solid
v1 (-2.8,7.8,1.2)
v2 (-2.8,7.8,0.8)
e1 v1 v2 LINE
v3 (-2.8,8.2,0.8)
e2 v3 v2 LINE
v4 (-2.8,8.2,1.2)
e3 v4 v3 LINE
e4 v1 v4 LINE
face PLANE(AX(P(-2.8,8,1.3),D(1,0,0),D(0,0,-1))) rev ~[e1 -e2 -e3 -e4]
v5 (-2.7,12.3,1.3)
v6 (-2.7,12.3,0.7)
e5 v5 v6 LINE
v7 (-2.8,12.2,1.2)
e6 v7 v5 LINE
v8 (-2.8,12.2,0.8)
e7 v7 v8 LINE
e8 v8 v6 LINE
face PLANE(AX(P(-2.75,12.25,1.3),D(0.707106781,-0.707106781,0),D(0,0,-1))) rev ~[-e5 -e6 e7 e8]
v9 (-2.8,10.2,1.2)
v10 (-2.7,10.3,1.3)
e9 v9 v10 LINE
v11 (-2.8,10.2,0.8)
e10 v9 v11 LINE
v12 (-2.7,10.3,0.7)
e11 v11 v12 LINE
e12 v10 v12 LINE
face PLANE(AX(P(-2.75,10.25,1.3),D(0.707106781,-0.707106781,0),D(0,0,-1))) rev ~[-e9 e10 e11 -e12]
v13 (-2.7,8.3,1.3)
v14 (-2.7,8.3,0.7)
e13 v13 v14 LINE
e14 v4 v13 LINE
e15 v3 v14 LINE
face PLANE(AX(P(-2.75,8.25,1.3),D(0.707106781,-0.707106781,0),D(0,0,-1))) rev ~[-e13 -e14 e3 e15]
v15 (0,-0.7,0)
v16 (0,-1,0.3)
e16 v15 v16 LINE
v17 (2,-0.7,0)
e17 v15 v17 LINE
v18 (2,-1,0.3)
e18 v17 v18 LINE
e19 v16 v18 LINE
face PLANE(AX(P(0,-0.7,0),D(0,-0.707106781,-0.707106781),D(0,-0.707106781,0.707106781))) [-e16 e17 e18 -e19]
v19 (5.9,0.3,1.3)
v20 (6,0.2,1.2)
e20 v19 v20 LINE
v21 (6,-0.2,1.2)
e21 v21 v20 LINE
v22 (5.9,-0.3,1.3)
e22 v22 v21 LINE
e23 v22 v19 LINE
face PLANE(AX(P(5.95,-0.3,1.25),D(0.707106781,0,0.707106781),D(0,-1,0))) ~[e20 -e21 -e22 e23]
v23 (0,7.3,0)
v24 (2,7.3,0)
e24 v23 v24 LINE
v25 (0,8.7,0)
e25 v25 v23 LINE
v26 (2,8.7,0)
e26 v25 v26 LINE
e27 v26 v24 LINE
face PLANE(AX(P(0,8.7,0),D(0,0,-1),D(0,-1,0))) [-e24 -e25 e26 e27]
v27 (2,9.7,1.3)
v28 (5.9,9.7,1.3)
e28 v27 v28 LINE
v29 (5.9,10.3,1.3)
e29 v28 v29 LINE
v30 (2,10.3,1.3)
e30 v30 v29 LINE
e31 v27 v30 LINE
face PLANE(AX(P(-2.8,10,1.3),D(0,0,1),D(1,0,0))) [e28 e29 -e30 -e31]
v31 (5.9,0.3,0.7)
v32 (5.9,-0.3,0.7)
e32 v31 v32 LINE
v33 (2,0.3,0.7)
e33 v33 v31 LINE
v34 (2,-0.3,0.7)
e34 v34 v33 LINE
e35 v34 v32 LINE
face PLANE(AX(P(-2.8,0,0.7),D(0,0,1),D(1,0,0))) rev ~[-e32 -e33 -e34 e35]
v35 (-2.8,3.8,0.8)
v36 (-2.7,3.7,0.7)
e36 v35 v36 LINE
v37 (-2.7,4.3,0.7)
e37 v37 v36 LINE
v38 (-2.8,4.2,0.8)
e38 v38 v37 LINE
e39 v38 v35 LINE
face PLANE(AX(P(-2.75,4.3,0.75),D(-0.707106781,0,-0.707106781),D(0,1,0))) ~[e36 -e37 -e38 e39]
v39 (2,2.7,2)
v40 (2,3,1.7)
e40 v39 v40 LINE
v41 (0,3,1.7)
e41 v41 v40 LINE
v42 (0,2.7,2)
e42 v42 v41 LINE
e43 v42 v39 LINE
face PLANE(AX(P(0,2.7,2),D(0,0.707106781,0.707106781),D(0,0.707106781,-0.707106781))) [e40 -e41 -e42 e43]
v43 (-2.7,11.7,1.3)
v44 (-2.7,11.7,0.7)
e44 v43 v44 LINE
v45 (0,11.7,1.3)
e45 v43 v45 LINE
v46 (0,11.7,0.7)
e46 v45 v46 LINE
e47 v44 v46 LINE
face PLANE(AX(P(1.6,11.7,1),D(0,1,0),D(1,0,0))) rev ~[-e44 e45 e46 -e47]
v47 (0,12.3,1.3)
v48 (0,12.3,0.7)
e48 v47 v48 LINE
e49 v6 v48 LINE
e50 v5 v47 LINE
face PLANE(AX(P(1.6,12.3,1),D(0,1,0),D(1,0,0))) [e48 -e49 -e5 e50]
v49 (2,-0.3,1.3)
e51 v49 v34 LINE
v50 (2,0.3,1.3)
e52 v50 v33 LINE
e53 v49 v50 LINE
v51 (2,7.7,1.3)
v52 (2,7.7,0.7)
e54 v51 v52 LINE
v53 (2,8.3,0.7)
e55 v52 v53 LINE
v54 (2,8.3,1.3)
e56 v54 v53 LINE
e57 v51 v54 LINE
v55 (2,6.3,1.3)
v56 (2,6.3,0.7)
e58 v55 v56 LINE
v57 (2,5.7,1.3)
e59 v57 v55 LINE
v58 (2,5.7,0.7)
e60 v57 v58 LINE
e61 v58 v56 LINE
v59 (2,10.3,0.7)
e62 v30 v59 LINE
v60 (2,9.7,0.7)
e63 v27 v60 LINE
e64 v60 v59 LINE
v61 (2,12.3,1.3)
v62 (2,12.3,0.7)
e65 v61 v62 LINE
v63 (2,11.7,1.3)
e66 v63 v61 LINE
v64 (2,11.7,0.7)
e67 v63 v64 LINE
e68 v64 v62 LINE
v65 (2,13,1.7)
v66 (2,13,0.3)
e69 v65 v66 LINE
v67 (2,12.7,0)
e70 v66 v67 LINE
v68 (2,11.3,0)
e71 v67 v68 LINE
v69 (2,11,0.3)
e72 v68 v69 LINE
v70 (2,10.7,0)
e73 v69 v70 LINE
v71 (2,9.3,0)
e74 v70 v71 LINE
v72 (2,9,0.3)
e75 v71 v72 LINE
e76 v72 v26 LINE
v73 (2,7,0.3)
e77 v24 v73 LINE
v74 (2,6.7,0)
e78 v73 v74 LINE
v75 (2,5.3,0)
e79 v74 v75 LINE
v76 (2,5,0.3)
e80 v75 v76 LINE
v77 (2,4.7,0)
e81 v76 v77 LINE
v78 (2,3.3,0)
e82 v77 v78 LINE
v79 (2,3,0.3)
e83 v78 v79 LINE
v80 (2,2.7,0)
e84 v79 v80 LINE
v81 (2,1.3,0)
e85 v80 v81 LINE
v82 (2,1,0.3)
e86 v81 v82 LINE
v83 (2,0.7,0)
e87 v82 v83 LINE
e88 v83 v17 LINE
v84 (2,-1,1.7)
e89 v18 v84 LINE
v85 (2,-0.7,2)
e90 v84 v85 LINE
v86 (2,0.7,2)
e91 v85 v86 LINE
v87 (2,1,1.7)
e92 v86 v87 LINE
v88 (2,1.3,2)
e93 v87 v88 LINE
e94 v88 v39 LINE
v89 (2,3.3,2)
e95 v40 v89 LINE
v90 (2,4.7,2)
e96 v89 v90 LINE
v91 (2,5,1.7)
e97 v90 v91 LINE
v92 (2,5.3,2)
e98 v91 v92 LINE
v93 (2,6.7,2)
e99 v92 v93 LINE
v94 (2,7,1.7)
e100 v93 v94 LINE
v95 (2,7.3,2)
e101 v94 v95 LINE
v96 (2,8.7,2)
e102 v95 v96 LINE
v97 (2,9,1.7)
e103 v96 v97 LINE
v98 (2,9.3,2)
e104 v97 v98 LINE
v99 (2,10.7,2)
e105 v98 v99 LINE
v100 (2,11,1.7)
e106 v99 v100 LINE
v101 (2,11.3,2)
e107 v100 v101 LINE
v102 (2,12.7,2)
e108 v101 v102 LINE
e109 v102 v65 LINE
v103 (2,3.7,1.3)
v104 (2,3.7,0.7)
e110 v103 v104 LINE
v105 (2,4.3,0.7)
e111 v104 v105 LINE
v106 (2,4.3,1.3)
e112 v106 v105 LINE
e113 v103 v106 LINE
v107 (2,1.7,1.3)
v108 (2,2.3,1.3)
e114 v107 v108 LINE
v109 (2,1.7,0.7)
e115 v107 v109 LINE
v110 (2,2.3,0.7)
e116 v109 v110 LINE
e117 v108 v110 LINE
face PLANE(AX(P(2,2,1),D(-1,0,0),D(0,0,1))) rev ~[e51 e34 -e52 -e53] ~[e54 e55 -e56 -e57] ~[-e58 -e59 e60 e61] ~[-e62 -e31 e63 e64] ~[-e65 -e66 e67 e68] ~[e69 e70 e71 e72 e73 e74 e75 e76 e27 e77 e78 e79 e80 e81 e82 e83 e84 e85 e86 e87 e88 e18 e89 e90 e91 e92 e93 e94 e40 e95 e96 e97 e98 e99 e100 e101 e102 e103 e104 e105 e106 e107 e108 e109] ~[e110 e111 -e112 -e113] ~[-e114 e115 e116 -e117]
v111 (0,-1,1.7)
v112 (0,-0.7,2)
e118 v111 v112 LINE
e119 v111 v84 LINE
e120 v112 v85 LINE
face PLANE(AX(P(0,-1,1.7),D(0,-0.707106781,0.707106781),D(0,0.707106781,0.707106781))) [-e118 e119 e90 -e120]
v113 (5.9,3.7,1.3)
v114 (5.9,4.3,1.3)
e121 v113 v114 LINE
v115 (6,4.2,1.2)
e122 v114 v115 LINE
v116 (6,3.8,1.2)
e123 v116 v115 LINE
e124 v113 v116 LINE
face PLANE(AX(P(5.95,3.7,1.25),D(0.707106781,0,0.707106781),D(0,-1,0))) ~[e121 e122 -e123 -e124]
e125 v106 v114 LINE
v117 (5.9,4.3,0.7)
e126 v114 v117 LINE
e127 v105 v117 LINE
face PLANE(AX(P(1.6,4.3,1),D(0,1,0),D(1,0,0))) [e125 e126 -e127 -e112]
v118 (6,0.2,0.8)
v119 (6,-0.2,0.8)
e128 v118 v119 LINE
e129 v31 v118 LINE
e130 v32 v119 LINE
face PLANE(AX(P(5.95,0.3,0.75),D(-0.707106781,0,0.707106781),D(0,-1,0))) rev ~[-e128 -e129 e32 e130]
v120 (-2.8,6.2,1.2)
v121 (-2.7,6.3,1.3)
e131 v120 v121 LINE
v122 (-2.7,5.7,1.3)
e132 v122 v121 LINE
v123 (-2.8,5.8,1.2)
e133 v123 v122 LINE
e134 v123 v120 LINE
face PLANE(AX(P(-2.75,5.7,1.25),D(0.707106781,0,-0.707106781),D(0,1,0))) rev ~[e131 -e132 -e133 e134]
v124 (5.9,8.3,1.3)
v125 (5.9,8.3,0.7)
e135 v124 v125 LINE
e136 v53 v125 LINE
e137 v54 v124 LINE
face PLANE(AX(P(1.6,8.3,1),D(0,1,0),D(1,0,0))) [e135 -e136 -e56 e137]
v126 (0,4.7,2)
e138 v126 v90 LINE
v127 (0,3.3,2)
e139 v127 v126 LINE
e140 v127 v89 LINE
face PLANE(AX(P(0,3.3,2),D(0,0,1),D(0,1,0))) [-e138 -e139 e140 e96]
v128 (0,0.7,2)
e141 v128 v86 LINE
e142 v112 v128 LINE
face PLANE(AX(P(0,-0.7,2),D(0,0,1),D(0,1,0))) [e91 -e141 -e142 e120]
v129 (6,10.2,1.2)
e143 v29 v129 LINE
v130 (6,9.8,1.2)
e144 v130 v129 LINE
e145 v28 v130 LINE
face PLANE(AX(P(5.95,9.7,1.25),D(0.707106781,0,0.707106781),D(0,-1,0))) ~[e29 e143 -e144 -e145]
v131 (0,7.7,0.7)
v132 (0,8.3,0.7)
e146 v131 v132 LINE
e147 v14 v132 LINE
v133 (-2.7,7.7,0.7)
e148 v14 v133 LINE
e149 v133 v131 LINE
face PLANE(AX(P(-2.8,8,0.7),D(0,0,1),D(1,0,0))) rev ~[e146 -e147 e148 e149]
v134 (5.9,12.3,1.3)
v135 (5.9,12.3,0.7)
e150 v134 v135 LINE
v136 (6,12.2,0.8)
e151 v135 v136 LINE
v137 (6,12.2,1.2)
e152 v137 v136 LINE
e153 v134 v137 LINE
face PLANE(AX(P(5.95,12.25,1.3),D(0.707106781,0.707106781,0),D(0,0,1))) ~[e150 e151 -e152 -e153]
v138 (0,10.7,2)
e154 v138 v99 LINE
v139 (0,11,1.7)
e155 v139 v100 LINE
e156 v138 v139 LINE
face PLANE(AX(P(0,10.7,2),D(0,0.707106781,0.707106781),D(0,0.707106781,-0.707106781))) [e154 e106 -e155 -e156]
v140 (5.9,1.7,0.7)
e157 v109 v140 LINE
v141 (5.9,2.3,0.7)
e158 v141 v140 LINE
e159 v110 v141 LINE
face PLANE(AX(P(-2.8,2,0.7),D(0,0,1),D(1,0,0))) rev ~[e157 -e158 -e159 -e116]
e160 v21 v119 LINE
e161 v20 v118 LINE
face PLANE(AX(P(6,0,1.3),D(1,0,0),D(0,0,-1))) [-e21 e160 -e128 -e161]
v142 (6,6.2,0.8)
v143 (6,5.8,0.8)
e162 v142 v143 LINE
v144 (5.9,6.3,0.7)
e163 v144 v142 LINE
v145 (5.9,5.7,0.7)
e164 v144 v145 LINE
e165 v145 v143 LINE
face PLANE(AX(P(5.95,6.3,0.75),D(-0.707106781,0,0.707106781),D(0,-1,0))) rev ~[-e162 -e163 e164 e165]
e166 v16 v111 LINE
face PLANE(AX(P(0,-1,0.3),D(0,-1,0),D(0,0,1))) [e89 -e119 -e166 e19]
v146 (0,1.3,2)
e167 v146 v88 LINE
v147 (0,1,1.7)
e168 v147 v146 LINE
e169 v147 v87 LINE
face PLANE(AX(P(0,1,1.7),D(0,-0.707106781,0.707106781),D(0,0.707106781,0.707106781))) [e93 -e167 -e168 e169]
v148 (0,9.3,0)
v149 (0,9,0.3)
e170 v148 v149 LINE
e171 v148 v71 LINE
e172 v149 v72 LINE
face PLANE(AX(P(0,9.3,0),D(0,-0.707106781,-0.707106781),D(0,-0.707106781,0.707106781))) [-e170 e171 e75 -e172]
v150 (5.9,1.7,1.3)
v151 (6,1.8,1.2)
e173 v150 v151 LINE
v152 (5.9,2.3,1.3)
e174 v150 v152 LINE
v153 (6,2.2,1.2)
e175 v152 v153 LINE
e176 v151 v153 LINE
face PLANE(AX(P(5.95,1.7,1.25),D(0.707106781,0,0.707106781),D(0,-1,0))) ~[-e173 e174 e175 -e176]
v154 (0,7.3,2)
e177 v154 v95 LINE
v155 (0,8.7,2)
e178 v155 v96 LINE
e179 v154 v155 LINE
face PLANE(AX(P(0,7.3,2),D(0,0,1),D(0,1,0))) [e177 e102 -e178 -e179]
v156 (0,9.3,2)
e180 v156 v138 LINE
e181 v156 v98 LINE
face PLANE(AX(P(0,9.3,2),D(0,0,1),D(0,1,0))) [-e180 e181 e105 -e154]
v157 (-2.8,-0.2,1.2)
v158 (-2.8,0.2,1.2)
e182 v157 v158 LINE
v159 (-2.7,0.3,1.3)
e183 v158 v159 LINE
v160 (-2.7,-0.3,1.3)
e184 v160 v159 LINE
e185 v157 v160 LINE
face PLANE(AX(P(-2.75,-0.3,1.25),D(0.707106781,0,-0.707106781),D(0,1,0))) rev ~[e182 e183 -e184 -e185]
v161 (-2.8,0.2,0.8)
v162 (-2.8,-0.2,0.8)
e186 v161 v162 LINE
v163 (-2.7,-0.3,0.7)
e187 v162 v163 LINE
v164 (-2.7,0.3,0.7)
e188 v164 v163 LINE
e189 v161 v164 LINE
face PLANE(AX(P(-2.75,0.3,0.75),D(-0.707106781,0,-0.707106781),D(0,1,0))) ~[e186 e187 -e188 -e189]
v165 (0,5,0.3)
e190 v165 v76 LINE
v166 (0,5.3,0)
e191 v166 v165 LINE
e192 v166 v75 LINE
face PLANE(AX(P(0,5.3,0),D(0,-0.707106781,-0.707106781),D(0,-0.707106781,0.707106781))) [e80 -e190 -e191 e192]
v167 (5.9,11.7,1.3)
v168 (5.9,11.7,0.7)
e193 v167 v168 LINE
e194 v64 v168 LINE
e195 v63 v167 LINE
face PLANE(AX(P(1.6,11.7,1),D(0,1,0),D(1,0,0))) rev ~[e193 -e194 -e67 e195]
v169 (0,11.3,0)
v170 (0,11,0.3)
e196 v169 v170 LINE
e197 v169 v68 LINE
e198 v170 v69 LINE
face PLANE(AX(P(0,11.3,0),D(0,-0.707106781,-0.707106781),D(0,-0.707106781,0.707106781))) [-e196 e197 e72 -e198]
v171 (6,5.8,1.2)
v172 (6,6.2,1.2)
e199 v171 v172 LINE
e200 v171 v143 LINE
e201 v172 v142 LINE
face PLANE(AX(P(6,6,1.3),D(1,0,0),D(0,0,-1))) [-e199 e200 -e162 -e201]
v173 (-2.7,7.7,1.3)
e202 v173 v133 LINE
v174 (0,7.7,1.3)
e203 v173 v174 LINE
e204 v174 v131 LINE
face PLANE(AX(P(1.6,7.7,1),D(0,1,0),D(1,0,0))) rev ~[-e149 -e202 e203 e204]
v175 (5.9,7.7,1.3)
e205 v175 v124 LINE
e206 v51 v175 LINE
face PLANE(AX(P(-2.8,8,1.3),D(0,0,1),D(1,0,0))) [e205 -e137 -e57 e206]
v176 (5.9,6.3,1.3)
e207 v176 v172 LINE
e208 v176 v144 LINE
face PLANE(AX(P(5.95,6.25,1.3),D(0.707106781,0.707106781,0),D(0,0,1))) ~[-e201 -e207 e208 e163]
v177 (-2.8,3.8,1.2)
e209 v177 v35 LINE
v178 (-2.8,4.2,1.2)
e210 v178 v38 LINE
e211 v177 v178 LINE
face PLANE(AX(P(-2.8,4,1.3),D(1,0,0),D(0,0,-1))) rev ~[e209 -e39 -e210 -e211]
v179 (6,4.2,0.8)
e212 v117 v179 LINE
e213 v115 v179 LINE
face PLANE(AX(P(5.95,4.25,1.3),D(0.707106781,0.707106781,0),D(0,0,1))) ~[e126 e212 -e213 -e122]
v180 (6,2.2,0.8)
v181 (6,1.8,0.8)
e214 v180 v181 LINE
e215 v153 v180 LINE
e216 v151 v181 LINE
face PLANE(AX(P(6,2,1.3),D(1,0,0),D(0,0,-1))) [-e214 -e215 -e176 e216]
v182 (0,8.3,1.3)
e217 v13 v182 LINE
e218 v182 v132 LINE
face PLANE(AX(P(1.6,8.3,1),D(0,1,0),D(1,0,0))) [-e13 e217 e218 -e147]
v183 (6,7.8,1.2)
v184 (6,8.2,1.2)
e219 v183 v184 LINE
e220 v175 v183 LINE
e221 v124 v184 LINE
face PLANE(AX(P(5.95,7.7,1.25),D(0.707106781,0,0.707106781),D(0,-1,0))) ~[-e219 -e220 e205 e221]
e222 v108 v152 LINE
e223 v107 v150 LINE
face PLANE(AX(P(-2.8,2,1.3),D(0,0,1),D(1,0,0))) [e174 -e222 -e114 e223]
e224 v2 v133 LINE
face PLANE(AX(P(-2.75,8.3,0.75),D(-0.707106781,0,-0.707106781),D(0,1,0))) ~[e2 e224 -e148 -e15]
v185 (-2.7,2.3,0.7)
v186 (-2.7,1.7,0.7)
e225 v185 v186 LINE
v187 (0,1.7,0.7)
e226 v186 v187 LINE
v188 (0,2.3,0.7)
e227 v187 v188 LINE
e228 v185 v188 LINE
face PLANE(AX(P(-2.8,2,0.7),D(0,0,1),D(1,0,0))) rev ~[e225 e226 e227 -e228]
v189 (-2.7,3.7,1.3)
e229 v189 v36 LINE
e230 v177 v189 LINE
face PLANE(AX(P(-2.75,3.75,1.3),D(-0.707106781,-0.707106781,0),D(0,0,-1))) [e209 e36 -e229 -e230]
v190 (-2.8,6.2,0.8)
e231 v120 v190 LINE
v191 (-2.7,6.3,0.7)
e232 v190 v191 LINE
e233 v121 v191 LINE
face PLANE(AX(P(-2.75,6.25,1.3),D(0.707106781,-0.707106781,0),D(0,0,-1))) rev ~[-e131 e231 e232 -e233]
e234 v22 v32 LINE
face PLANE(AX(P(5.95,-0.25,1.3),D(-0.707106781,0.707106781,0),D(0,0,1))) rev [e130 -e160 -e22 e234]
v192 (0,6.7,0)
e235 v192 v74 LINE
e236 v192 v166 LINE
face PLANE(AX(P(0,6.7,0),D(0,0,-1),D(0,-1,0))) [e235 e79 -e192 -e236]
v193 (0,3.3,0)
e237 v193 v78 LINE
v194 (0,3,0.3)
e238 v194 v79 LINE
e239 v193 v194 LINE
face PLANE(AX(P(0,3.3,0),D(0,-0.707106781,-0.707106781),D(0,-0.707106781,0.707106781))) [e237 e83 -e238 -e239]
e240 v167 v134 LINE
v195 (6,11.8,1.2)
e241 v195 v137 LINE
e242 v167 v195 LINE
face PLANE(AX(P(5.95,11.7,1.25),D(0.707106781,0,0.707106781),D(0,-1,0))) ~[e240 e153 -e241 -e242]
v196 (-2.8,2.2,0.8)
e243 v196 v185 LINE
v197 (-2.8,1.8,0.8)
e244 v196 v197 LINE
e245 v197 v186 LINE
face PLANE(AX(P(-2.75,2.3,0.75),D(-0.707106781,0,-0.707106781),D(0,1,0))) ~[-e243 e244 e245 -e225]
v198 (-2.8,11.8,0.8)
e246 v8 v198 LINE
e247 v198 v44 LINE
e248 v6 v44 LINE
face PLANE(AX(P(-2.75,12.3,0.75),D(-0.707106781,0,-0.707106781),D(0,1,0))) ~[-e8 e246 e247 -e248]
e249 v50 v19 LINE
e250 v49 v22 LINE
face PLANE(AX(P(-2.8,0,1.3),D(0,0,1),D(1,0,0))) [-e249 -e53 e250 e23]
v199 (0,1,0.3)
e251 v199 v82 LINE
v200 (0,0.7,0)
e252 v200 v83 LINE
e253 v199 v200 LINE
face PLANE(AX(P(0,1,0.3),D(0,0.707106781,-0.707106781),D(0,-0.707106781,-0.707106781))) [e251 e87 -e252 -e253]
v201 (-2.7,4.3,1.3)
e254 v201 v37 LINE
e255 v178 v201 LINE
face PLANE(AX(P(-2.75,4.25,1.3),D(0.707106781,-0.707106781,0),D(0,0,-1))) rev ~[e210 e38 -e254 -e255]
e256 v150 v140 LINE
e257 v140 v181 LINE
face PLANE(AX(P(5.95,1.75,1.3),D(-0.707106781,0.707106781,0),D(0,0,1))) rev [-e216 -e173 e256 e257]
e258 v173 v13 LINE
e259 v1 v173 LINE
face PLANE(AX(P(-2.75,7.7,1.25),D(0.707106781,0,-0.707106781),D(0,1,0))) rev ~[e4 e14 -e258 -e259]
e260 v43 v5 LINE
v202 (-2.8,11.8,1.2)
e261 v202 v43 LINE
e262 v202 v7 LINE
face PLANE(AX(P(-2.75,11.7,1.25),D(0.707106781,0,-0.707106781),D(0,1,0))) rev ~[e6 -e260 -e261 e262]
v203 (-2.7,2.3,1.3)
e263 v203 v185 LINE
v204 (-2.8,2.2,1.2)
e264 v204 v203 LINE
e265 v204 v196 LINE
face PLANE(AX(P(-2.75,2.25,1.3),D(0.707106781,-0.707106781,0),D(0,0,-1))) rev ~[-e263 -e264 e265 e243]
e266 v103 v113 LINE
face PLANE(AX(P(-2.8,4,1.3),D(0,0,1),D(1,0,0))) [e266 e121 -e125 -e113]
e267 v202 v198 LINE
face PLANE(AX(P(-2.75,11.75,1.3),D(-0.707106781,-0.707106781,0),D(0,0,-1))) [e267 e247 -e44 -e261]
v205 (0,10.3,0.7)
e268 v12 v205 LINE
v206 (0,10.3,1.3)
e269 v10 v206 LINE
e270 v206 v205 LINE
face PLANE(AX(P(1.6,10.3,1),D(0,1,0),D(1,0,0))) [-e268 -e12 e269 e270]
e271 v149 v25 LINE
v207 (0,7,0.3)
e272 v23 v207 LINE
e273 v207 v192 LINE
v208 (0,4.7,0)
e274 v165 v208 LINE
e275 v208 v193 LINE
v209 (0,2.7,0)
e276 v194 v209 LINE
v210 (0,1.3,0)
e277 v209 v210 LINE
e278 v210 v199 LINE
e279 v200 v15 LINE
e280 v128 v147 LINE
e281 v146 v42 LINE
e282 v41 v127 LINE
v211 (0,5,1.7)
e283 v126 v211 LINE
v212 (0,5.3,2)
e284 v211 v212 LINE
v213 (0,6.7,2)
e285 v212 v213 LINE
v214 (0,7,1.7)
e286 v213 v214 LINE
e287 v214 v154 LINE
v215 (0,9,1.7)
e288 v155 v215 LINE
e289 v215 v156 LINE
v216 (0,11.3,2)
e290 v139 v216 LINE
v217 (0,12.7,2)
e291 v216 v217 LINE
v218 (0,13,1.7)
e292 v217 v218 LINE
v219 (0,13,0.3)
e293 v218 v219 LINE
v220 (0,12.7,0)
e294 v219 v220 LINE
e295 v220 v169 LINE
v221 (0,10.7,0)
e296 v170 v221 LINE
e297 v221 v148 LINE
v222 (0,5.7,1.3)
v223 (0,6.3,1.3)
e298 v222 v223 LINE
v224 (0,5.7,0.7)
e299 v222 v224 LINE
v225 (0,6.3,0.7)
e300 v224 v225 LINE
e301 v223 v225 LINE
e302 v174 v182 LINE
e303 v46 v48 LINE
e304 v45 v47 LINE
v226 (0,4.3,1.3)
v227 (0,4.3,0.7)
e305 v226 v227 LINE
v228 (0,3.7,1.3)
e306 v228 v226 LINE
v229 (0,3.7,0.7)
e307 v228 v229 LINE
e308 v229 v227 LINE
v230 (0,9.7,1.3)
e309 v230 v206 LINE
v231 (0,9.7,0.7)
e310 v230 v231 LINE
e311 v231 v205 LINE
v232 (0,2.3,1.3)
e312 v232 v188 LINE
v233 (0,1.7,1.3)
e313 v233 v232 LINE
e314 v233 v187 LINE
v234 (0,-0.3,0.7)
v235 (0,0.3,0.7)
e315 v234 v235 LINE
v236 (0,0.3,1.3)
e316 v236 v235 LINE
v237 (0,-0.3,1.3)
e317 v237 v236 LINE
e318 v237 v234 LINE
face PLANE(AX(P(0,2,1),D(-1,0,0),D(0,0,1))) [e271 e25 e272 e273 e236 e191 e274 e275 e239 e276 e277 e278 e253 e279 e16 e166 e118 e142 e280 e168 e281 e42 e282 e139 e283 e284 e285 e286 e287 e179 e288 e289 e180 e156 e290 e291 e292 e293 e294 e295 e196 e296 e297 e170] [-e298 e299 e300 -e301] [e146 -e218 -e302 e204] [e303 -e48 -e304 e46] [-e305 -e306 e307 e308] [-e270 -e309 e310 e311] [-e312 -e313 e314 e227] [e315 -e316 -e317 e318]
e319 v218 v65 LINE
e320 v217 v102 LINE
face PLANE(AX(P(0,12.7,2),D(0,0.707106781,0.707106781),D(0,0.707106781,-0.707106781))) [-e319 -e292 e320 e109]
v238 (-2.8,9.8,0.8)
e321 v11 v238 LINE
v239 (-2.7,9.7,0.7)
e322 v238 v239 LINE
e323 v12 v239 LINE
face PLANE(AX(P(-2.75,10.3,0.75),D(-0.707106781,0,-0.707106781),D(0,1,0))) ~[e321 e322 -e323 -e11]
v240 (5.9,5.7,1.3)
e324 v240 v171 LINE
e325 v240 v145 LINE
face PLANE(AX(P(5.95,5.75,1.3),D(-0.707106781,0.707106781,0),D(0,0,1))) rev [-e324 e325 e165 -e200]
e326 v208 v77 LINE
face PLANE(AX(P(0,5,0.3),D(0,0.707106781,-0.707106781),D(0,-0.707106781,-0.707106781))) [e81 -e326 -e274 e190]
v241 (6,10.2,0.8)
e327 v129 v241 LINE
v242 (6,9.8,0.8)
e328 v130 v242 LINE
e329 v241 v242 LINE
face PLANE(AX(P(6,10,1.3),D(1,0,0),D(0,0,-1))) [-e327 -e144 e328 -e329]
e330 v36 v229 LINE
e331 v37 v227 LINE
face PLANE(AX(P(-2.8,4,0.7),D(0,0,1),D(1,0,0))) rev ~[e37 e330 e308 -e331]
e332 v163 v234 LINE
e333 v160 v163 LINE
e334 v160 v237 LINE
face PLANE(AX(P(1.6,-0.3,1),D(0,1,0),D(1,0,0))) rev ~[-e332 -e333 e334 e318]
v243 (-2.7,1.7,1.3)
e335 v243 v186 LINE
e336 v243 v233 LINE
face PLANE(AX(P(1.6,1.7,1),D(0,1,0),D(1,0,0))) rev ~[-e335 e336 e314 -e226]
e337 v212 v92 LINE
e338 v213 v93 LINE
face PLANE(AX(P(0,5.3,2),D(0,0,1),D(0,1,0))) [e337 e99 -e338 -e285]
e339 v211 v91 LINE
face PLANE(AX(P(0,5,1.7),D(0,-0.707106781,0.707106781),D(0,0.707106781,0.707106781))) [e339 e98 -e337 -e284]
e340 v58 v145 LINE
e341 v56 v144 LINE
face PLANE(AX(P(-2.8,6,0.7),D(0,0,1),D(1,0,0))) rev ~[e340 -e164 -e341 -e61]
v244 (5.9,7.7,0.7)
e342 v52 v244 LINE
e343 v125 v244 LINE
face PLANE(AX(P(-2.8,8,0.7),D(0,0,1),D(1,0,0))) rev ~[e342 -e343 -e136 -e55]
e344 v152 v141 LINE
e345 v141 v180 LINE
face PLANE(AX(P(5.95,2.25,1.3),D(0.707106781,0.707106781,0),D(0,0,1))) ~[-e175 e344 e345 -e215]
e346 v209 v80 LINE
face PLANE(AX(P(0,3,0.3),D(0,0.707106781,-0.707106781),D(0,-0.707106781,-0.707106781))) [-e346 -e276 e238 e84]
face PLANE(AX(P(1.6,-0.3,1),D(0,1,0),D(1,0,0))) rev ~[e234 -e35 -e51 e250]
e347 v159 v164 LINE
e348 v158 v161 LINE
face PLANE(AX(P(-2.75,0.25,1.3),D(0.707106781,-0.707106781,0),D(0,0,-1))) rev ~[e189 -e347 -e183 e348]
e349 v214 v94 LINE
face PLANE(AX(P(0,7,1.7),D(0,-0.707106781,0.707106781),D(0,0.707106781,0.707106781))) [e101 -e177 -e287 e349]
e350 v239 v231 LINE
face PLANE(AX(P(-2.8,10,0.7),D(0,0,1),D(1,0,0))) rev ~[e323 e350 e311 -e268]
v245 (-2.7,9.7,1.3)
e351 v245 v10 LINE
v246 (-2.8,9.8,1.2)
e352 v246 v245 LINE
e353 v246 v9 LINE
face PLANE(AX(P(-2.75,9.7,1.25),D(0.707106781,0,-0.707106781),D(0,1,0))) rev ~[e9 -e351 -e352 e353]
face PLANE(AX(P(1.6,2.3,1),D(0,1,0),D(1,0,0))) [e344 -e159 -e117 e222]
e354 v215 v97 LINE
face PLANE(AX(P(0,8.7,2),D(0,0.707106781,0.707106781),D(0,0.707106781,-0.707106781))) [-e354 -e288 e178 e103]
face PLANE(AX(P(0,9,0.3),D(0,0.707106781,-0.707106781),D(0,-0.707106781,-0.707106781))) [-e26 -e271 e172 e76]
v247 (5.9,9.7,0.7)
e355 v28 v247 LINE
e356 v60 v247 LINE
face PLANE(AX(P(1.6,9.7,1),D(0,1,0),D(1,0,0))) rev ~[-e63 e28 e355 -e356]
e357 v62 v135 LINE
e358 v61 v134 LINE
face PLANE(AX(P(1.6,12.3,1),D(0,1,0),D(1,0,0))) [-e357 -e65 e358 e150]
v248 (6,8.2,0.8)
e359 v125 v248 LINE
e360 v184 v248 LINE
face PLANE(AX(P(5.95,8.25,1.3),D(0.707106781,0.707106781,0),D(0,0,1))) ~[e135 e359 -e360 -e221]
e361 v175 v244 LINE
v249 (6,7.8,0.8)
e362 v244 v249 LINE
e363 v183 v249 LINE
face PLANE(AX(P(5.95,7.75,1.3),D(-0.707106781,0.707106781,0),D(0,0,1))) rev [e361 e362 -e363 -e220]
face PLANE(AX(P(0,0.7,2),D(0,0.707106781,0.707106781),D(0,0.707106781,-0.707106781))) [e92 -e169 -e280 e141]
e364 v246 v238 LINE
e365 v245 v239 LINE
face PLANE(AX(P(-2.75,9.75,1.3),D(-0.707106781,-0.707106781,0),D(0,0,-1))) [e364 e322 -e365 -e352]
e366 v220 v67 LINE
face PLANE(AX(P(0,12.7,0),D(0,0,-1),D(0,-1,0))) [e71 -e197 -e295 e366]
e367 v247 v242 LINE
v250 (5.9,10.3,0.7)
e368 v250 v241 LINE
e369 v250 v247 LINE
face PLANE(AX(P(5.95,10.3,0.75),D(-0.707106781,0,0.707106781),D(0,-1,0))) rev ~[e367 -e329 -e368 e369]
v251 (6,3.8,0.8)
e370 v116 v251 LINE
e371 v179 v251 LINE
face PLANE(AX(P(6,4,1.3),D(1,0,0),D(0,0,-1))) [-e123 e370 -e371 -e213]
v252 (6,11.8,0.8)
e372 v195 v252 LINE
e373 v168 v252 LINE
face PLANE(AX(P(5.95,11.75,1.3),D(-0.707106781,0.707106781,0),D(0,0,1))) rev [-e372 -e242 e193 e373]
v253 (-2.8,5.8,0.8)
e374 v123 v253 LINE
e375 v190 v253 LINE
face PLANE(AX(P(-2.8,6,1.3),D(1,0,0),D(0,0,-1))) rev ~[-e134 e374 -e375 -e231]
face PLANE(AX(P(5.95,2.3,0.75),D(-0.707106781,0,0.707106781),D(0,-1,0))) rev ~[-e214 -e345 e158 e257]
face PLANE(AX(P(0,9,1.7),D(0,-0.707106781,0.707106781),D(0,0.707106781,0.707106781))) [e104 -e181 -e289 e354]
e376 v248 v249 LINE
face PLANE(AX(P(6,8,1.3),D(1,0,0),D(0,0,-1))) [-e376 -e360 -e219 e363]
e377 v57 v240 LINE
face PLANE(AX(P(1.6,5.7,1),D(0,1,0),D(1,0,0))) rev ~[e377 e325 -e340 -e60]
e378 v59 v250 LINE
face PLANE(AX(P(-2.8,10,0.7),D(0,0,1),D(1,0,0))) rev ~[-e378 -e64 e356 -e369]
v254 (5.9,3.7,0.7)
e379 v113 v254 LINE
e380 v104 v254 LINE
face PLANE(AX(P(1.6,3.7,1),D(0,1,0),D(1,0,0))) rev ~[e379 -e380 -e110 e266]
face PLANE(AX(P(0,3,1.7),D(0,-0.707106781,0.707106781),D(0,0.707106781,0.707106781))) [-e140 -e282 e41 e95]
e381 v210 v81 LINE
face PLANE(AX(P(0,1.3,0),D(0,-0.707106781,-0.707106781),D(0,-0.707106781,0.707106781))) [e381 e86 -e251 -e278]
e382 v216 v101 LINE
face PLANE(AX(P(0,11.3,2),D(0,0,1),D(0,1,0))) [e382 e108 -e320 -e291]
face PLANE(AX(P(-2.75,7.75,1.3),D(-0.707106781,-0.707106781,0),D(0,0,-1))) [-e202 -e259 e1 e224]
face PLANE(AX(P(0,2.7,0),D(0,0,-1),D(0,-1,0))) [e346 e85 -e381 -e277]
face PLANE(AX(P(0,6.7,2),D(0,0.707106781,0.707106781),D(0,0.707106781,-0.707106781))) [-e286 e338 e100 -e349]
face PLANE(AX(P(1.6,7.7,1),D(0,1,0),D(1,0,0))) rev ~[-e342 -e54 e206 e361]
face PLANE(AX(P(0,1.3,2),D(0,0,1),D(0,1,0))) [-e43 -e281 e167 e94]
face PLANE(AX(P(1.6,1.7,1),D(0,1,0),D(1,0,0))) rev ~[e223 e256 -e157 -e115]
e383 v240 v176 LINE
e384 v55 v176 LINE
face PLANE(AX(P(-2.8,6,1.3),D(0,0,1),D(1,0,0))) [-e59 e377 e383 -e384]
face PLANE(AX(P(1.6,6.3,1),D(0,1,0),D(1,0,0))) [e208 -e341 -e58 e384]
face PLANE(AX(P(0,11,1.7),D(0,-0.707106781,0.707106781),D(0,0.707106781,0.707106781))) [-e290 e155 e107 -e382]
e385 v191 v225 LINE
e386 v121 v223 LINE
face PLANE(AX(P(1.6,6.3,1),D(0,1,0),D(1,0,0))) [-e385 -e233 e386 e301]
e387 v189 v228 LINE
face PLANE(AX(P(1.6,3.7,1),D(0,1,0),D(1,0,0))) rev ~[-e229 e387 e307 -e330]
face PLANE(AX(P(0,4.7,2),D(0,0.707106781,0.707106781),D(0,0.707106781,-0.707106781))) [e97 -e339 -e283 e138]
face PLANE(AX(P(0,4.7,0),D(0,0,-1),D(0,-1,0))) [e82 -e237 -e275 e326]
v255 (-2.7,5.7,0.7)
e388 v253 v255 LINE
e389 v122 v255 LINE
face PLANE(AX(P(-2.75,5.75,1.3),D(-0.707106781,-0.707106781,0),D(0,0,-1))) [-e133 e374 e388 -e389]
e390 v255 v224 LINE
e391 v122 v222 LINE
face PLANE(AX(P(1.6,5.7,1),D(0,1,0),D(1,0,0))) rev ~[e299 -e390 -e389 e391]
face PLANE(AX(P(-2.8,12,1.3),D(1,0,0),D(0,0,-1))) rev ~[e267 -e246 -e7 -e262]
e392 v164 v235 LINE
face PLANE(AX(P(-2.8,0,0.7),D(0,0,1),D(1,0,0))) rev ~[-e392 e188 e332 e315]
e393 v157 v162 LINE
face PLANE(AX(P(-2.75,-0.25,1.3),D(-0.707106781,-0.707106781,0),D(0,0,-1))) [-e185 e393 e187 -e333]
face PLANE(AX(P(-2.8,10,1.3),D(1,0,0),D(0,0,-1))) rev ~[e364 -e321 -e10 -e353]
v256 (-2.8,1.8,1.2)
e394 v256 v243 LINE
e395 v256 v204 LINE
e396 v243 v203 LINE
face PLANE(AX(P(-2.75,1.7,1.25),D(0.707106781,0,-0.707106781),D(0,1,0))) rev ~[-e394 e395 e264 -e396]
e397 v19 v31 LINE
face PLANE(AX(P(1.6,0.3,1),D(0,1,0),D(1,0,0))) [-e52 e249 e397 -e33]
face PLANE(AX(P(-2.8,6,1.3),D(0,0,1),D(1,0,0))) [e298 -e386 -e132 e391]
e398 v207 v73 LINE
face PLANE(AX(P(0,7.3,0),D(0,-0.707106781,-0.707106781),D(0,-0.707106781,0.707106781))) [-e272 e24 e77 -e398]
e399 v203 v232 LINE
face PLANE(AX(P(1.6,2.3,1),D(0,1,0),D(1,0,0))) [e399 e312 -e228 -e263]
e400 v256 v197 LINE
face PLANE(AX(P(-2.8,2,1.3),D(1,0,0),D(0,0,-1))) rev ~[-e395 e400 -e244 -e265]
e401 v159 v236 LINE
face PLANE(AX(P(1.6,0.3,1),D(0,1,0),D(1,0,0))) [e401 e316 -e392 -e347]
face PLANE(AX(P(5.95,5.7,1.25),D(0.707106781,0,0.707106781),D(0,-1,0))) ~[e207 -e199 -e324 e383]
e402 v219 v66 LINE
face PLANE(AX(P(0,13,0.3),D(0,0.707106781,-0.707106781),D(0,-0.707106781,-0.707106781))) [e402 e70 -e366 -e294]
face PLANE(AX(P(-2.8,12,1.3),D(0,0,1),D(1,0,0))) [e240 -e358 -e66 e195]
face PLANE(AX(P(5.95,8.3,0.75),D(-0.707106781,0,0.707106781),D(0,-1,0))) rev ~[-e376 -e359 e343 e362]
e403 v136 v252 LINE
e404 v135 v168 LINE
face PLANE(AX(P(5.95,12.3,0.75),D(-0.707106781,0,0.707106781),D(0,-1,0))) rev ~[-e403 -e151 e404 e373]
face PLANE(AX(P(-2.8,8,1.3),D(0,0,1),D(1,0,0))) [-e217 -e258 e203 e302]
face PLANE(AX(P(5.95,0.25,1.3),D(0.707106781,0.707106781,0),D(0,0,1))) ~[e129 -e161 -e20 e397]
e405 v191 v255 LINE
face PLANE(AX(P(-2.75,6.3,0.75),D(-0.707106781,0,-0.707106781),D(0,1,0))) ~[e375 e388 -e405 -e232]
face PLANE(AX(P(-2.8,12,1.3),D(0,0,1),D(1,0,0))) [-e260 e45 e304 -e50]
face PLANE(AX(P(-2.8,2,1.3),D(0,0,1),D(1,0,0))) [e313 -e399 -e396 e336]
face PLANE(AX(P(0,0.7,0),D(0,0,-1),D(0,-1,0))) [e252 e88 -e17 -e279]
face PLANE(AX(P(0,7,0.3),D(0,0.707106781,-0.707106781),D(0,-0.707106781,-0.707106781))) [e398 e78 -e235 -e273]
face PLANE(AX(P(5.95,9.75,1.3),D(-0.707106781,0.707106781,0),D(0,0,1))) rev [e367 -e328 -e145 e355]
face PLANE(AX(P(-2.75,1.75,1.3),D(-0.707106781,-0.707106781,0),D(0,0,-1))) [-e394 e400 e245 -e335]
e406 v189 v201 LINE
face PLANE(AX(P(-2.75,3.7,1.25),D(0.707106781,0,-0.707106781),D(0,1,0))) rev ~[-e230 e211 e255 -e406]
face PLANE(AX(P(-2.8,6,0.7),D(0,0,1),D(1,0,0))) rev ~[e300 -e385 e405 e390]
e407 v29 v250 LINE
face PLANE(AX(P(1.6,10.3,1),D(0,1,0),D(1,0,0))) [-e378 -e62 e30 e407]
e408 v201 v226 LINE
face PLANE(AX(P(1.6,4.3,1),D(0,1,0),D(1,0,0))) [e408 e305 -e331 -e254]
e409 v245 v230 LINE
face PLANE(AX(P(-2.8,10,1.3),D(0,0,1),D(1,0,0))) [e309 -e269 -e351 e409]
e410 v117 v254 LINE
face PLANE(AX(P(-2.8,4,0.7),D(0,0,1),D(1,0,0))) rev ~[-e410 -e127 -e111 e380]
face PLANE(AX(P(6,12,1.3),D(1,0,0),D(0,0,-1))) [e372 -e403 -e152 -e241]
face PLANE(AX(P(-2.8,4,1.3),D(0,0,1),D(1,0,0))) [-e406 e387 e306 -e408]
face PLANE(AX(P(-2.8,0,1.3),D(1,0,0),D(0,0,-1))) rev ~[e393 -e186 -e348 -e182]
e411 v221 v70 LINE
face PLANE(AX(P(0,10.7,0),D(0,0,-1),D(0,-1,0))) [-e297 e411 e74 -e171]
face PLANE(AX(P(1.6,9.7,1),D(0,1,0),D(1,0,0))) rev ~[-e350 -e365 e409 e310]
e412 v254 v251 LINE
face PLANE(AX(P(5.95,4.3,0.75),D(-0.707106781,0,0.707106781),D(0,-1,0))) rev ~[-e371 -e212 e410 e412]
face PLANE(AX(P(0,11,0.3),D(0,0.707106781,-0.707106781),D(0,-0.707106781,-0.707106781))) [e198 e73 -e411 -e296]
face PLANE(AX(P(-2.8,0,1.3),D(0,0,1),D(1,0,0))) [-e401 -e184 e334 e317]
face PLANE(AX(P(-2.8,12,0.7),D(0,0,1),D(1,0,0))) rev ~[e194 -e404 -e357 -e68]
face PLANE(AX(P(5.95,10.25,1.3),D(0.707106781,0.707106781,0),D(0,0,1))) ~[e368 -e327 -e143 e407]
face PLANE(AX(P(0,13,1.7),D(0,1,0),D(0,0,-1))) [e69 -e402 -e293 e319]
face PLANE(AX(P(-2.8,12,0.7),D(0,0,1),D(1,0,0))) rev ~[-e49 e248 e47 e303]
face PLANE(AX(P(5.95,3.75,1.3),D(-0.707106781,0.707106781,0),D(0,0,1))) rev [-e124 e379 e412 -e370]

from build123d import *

# Parameters (mm, degrees)
PLASTIC_DEPTH   = 2
SKETCH2_W       = 8.8
SKETCH2_H       = 0.6
CONTACT_DEPTH   = 0.3
CHAMFER1_SIZE   = 0.1
LPATTERN1_COUNT = 7
LPATTERN1_PITCH = 2


with BuildPart() as part:
    # Sketch1 → Plastic (new body)
    with BuildSketch(Plane(origin=(0, 0, 0), x_dir=(0, 0, -1), z_dir=(1, 0, 0))):
        Polygon((-1.7, 1), (-0.3, 1), (0, 0.7), (0, -0.7), (-0.3, -1), (-1.7, -1), (-2, -0.7), (-2, 0.7), align=None)
    extrude(amount=PLASTIC_DEPTH)

    # Sketch2 → Contact (add, symmetric)
    with BuildSketch(Plane(origin=(0, 0, 0), x_dir=(1, 0, 0), z_dir=(0, 1, 0))):
        with Locations((1.6, -1)):
            Rectangle(SKETCH2_W, SKETCH2_H)
    extrude(amount=CONTACT_DEPTH, both=True)

    # Chamfer1
    chamfer1_edges = [part.edges().sort_by_distance(p)[0] for p in [
        (6, 0, 0.7),
        (6, 0.3, 1),
        (-2.8, 0, 1.3),
        (6, -0.3, 1),
        (6, 0, 1.3),
        (-2.8, -0.3, 1),
        (-2.8, 0, 0.7),
        (-2.8, 0.3, 1),
    ]]
    chamfer(chamfer1_edges, length=CHAMFER1_SIZE)

    # LPattern1: part ×7


with BuildPart() as part_1:
    add(part.part)
    with Locations(*[(0, i * LPATTERN1_PITCH, 0) for i in range(1, LPATTERN1_COUNT)]):
        add(part.part)


solid = part_1.part
